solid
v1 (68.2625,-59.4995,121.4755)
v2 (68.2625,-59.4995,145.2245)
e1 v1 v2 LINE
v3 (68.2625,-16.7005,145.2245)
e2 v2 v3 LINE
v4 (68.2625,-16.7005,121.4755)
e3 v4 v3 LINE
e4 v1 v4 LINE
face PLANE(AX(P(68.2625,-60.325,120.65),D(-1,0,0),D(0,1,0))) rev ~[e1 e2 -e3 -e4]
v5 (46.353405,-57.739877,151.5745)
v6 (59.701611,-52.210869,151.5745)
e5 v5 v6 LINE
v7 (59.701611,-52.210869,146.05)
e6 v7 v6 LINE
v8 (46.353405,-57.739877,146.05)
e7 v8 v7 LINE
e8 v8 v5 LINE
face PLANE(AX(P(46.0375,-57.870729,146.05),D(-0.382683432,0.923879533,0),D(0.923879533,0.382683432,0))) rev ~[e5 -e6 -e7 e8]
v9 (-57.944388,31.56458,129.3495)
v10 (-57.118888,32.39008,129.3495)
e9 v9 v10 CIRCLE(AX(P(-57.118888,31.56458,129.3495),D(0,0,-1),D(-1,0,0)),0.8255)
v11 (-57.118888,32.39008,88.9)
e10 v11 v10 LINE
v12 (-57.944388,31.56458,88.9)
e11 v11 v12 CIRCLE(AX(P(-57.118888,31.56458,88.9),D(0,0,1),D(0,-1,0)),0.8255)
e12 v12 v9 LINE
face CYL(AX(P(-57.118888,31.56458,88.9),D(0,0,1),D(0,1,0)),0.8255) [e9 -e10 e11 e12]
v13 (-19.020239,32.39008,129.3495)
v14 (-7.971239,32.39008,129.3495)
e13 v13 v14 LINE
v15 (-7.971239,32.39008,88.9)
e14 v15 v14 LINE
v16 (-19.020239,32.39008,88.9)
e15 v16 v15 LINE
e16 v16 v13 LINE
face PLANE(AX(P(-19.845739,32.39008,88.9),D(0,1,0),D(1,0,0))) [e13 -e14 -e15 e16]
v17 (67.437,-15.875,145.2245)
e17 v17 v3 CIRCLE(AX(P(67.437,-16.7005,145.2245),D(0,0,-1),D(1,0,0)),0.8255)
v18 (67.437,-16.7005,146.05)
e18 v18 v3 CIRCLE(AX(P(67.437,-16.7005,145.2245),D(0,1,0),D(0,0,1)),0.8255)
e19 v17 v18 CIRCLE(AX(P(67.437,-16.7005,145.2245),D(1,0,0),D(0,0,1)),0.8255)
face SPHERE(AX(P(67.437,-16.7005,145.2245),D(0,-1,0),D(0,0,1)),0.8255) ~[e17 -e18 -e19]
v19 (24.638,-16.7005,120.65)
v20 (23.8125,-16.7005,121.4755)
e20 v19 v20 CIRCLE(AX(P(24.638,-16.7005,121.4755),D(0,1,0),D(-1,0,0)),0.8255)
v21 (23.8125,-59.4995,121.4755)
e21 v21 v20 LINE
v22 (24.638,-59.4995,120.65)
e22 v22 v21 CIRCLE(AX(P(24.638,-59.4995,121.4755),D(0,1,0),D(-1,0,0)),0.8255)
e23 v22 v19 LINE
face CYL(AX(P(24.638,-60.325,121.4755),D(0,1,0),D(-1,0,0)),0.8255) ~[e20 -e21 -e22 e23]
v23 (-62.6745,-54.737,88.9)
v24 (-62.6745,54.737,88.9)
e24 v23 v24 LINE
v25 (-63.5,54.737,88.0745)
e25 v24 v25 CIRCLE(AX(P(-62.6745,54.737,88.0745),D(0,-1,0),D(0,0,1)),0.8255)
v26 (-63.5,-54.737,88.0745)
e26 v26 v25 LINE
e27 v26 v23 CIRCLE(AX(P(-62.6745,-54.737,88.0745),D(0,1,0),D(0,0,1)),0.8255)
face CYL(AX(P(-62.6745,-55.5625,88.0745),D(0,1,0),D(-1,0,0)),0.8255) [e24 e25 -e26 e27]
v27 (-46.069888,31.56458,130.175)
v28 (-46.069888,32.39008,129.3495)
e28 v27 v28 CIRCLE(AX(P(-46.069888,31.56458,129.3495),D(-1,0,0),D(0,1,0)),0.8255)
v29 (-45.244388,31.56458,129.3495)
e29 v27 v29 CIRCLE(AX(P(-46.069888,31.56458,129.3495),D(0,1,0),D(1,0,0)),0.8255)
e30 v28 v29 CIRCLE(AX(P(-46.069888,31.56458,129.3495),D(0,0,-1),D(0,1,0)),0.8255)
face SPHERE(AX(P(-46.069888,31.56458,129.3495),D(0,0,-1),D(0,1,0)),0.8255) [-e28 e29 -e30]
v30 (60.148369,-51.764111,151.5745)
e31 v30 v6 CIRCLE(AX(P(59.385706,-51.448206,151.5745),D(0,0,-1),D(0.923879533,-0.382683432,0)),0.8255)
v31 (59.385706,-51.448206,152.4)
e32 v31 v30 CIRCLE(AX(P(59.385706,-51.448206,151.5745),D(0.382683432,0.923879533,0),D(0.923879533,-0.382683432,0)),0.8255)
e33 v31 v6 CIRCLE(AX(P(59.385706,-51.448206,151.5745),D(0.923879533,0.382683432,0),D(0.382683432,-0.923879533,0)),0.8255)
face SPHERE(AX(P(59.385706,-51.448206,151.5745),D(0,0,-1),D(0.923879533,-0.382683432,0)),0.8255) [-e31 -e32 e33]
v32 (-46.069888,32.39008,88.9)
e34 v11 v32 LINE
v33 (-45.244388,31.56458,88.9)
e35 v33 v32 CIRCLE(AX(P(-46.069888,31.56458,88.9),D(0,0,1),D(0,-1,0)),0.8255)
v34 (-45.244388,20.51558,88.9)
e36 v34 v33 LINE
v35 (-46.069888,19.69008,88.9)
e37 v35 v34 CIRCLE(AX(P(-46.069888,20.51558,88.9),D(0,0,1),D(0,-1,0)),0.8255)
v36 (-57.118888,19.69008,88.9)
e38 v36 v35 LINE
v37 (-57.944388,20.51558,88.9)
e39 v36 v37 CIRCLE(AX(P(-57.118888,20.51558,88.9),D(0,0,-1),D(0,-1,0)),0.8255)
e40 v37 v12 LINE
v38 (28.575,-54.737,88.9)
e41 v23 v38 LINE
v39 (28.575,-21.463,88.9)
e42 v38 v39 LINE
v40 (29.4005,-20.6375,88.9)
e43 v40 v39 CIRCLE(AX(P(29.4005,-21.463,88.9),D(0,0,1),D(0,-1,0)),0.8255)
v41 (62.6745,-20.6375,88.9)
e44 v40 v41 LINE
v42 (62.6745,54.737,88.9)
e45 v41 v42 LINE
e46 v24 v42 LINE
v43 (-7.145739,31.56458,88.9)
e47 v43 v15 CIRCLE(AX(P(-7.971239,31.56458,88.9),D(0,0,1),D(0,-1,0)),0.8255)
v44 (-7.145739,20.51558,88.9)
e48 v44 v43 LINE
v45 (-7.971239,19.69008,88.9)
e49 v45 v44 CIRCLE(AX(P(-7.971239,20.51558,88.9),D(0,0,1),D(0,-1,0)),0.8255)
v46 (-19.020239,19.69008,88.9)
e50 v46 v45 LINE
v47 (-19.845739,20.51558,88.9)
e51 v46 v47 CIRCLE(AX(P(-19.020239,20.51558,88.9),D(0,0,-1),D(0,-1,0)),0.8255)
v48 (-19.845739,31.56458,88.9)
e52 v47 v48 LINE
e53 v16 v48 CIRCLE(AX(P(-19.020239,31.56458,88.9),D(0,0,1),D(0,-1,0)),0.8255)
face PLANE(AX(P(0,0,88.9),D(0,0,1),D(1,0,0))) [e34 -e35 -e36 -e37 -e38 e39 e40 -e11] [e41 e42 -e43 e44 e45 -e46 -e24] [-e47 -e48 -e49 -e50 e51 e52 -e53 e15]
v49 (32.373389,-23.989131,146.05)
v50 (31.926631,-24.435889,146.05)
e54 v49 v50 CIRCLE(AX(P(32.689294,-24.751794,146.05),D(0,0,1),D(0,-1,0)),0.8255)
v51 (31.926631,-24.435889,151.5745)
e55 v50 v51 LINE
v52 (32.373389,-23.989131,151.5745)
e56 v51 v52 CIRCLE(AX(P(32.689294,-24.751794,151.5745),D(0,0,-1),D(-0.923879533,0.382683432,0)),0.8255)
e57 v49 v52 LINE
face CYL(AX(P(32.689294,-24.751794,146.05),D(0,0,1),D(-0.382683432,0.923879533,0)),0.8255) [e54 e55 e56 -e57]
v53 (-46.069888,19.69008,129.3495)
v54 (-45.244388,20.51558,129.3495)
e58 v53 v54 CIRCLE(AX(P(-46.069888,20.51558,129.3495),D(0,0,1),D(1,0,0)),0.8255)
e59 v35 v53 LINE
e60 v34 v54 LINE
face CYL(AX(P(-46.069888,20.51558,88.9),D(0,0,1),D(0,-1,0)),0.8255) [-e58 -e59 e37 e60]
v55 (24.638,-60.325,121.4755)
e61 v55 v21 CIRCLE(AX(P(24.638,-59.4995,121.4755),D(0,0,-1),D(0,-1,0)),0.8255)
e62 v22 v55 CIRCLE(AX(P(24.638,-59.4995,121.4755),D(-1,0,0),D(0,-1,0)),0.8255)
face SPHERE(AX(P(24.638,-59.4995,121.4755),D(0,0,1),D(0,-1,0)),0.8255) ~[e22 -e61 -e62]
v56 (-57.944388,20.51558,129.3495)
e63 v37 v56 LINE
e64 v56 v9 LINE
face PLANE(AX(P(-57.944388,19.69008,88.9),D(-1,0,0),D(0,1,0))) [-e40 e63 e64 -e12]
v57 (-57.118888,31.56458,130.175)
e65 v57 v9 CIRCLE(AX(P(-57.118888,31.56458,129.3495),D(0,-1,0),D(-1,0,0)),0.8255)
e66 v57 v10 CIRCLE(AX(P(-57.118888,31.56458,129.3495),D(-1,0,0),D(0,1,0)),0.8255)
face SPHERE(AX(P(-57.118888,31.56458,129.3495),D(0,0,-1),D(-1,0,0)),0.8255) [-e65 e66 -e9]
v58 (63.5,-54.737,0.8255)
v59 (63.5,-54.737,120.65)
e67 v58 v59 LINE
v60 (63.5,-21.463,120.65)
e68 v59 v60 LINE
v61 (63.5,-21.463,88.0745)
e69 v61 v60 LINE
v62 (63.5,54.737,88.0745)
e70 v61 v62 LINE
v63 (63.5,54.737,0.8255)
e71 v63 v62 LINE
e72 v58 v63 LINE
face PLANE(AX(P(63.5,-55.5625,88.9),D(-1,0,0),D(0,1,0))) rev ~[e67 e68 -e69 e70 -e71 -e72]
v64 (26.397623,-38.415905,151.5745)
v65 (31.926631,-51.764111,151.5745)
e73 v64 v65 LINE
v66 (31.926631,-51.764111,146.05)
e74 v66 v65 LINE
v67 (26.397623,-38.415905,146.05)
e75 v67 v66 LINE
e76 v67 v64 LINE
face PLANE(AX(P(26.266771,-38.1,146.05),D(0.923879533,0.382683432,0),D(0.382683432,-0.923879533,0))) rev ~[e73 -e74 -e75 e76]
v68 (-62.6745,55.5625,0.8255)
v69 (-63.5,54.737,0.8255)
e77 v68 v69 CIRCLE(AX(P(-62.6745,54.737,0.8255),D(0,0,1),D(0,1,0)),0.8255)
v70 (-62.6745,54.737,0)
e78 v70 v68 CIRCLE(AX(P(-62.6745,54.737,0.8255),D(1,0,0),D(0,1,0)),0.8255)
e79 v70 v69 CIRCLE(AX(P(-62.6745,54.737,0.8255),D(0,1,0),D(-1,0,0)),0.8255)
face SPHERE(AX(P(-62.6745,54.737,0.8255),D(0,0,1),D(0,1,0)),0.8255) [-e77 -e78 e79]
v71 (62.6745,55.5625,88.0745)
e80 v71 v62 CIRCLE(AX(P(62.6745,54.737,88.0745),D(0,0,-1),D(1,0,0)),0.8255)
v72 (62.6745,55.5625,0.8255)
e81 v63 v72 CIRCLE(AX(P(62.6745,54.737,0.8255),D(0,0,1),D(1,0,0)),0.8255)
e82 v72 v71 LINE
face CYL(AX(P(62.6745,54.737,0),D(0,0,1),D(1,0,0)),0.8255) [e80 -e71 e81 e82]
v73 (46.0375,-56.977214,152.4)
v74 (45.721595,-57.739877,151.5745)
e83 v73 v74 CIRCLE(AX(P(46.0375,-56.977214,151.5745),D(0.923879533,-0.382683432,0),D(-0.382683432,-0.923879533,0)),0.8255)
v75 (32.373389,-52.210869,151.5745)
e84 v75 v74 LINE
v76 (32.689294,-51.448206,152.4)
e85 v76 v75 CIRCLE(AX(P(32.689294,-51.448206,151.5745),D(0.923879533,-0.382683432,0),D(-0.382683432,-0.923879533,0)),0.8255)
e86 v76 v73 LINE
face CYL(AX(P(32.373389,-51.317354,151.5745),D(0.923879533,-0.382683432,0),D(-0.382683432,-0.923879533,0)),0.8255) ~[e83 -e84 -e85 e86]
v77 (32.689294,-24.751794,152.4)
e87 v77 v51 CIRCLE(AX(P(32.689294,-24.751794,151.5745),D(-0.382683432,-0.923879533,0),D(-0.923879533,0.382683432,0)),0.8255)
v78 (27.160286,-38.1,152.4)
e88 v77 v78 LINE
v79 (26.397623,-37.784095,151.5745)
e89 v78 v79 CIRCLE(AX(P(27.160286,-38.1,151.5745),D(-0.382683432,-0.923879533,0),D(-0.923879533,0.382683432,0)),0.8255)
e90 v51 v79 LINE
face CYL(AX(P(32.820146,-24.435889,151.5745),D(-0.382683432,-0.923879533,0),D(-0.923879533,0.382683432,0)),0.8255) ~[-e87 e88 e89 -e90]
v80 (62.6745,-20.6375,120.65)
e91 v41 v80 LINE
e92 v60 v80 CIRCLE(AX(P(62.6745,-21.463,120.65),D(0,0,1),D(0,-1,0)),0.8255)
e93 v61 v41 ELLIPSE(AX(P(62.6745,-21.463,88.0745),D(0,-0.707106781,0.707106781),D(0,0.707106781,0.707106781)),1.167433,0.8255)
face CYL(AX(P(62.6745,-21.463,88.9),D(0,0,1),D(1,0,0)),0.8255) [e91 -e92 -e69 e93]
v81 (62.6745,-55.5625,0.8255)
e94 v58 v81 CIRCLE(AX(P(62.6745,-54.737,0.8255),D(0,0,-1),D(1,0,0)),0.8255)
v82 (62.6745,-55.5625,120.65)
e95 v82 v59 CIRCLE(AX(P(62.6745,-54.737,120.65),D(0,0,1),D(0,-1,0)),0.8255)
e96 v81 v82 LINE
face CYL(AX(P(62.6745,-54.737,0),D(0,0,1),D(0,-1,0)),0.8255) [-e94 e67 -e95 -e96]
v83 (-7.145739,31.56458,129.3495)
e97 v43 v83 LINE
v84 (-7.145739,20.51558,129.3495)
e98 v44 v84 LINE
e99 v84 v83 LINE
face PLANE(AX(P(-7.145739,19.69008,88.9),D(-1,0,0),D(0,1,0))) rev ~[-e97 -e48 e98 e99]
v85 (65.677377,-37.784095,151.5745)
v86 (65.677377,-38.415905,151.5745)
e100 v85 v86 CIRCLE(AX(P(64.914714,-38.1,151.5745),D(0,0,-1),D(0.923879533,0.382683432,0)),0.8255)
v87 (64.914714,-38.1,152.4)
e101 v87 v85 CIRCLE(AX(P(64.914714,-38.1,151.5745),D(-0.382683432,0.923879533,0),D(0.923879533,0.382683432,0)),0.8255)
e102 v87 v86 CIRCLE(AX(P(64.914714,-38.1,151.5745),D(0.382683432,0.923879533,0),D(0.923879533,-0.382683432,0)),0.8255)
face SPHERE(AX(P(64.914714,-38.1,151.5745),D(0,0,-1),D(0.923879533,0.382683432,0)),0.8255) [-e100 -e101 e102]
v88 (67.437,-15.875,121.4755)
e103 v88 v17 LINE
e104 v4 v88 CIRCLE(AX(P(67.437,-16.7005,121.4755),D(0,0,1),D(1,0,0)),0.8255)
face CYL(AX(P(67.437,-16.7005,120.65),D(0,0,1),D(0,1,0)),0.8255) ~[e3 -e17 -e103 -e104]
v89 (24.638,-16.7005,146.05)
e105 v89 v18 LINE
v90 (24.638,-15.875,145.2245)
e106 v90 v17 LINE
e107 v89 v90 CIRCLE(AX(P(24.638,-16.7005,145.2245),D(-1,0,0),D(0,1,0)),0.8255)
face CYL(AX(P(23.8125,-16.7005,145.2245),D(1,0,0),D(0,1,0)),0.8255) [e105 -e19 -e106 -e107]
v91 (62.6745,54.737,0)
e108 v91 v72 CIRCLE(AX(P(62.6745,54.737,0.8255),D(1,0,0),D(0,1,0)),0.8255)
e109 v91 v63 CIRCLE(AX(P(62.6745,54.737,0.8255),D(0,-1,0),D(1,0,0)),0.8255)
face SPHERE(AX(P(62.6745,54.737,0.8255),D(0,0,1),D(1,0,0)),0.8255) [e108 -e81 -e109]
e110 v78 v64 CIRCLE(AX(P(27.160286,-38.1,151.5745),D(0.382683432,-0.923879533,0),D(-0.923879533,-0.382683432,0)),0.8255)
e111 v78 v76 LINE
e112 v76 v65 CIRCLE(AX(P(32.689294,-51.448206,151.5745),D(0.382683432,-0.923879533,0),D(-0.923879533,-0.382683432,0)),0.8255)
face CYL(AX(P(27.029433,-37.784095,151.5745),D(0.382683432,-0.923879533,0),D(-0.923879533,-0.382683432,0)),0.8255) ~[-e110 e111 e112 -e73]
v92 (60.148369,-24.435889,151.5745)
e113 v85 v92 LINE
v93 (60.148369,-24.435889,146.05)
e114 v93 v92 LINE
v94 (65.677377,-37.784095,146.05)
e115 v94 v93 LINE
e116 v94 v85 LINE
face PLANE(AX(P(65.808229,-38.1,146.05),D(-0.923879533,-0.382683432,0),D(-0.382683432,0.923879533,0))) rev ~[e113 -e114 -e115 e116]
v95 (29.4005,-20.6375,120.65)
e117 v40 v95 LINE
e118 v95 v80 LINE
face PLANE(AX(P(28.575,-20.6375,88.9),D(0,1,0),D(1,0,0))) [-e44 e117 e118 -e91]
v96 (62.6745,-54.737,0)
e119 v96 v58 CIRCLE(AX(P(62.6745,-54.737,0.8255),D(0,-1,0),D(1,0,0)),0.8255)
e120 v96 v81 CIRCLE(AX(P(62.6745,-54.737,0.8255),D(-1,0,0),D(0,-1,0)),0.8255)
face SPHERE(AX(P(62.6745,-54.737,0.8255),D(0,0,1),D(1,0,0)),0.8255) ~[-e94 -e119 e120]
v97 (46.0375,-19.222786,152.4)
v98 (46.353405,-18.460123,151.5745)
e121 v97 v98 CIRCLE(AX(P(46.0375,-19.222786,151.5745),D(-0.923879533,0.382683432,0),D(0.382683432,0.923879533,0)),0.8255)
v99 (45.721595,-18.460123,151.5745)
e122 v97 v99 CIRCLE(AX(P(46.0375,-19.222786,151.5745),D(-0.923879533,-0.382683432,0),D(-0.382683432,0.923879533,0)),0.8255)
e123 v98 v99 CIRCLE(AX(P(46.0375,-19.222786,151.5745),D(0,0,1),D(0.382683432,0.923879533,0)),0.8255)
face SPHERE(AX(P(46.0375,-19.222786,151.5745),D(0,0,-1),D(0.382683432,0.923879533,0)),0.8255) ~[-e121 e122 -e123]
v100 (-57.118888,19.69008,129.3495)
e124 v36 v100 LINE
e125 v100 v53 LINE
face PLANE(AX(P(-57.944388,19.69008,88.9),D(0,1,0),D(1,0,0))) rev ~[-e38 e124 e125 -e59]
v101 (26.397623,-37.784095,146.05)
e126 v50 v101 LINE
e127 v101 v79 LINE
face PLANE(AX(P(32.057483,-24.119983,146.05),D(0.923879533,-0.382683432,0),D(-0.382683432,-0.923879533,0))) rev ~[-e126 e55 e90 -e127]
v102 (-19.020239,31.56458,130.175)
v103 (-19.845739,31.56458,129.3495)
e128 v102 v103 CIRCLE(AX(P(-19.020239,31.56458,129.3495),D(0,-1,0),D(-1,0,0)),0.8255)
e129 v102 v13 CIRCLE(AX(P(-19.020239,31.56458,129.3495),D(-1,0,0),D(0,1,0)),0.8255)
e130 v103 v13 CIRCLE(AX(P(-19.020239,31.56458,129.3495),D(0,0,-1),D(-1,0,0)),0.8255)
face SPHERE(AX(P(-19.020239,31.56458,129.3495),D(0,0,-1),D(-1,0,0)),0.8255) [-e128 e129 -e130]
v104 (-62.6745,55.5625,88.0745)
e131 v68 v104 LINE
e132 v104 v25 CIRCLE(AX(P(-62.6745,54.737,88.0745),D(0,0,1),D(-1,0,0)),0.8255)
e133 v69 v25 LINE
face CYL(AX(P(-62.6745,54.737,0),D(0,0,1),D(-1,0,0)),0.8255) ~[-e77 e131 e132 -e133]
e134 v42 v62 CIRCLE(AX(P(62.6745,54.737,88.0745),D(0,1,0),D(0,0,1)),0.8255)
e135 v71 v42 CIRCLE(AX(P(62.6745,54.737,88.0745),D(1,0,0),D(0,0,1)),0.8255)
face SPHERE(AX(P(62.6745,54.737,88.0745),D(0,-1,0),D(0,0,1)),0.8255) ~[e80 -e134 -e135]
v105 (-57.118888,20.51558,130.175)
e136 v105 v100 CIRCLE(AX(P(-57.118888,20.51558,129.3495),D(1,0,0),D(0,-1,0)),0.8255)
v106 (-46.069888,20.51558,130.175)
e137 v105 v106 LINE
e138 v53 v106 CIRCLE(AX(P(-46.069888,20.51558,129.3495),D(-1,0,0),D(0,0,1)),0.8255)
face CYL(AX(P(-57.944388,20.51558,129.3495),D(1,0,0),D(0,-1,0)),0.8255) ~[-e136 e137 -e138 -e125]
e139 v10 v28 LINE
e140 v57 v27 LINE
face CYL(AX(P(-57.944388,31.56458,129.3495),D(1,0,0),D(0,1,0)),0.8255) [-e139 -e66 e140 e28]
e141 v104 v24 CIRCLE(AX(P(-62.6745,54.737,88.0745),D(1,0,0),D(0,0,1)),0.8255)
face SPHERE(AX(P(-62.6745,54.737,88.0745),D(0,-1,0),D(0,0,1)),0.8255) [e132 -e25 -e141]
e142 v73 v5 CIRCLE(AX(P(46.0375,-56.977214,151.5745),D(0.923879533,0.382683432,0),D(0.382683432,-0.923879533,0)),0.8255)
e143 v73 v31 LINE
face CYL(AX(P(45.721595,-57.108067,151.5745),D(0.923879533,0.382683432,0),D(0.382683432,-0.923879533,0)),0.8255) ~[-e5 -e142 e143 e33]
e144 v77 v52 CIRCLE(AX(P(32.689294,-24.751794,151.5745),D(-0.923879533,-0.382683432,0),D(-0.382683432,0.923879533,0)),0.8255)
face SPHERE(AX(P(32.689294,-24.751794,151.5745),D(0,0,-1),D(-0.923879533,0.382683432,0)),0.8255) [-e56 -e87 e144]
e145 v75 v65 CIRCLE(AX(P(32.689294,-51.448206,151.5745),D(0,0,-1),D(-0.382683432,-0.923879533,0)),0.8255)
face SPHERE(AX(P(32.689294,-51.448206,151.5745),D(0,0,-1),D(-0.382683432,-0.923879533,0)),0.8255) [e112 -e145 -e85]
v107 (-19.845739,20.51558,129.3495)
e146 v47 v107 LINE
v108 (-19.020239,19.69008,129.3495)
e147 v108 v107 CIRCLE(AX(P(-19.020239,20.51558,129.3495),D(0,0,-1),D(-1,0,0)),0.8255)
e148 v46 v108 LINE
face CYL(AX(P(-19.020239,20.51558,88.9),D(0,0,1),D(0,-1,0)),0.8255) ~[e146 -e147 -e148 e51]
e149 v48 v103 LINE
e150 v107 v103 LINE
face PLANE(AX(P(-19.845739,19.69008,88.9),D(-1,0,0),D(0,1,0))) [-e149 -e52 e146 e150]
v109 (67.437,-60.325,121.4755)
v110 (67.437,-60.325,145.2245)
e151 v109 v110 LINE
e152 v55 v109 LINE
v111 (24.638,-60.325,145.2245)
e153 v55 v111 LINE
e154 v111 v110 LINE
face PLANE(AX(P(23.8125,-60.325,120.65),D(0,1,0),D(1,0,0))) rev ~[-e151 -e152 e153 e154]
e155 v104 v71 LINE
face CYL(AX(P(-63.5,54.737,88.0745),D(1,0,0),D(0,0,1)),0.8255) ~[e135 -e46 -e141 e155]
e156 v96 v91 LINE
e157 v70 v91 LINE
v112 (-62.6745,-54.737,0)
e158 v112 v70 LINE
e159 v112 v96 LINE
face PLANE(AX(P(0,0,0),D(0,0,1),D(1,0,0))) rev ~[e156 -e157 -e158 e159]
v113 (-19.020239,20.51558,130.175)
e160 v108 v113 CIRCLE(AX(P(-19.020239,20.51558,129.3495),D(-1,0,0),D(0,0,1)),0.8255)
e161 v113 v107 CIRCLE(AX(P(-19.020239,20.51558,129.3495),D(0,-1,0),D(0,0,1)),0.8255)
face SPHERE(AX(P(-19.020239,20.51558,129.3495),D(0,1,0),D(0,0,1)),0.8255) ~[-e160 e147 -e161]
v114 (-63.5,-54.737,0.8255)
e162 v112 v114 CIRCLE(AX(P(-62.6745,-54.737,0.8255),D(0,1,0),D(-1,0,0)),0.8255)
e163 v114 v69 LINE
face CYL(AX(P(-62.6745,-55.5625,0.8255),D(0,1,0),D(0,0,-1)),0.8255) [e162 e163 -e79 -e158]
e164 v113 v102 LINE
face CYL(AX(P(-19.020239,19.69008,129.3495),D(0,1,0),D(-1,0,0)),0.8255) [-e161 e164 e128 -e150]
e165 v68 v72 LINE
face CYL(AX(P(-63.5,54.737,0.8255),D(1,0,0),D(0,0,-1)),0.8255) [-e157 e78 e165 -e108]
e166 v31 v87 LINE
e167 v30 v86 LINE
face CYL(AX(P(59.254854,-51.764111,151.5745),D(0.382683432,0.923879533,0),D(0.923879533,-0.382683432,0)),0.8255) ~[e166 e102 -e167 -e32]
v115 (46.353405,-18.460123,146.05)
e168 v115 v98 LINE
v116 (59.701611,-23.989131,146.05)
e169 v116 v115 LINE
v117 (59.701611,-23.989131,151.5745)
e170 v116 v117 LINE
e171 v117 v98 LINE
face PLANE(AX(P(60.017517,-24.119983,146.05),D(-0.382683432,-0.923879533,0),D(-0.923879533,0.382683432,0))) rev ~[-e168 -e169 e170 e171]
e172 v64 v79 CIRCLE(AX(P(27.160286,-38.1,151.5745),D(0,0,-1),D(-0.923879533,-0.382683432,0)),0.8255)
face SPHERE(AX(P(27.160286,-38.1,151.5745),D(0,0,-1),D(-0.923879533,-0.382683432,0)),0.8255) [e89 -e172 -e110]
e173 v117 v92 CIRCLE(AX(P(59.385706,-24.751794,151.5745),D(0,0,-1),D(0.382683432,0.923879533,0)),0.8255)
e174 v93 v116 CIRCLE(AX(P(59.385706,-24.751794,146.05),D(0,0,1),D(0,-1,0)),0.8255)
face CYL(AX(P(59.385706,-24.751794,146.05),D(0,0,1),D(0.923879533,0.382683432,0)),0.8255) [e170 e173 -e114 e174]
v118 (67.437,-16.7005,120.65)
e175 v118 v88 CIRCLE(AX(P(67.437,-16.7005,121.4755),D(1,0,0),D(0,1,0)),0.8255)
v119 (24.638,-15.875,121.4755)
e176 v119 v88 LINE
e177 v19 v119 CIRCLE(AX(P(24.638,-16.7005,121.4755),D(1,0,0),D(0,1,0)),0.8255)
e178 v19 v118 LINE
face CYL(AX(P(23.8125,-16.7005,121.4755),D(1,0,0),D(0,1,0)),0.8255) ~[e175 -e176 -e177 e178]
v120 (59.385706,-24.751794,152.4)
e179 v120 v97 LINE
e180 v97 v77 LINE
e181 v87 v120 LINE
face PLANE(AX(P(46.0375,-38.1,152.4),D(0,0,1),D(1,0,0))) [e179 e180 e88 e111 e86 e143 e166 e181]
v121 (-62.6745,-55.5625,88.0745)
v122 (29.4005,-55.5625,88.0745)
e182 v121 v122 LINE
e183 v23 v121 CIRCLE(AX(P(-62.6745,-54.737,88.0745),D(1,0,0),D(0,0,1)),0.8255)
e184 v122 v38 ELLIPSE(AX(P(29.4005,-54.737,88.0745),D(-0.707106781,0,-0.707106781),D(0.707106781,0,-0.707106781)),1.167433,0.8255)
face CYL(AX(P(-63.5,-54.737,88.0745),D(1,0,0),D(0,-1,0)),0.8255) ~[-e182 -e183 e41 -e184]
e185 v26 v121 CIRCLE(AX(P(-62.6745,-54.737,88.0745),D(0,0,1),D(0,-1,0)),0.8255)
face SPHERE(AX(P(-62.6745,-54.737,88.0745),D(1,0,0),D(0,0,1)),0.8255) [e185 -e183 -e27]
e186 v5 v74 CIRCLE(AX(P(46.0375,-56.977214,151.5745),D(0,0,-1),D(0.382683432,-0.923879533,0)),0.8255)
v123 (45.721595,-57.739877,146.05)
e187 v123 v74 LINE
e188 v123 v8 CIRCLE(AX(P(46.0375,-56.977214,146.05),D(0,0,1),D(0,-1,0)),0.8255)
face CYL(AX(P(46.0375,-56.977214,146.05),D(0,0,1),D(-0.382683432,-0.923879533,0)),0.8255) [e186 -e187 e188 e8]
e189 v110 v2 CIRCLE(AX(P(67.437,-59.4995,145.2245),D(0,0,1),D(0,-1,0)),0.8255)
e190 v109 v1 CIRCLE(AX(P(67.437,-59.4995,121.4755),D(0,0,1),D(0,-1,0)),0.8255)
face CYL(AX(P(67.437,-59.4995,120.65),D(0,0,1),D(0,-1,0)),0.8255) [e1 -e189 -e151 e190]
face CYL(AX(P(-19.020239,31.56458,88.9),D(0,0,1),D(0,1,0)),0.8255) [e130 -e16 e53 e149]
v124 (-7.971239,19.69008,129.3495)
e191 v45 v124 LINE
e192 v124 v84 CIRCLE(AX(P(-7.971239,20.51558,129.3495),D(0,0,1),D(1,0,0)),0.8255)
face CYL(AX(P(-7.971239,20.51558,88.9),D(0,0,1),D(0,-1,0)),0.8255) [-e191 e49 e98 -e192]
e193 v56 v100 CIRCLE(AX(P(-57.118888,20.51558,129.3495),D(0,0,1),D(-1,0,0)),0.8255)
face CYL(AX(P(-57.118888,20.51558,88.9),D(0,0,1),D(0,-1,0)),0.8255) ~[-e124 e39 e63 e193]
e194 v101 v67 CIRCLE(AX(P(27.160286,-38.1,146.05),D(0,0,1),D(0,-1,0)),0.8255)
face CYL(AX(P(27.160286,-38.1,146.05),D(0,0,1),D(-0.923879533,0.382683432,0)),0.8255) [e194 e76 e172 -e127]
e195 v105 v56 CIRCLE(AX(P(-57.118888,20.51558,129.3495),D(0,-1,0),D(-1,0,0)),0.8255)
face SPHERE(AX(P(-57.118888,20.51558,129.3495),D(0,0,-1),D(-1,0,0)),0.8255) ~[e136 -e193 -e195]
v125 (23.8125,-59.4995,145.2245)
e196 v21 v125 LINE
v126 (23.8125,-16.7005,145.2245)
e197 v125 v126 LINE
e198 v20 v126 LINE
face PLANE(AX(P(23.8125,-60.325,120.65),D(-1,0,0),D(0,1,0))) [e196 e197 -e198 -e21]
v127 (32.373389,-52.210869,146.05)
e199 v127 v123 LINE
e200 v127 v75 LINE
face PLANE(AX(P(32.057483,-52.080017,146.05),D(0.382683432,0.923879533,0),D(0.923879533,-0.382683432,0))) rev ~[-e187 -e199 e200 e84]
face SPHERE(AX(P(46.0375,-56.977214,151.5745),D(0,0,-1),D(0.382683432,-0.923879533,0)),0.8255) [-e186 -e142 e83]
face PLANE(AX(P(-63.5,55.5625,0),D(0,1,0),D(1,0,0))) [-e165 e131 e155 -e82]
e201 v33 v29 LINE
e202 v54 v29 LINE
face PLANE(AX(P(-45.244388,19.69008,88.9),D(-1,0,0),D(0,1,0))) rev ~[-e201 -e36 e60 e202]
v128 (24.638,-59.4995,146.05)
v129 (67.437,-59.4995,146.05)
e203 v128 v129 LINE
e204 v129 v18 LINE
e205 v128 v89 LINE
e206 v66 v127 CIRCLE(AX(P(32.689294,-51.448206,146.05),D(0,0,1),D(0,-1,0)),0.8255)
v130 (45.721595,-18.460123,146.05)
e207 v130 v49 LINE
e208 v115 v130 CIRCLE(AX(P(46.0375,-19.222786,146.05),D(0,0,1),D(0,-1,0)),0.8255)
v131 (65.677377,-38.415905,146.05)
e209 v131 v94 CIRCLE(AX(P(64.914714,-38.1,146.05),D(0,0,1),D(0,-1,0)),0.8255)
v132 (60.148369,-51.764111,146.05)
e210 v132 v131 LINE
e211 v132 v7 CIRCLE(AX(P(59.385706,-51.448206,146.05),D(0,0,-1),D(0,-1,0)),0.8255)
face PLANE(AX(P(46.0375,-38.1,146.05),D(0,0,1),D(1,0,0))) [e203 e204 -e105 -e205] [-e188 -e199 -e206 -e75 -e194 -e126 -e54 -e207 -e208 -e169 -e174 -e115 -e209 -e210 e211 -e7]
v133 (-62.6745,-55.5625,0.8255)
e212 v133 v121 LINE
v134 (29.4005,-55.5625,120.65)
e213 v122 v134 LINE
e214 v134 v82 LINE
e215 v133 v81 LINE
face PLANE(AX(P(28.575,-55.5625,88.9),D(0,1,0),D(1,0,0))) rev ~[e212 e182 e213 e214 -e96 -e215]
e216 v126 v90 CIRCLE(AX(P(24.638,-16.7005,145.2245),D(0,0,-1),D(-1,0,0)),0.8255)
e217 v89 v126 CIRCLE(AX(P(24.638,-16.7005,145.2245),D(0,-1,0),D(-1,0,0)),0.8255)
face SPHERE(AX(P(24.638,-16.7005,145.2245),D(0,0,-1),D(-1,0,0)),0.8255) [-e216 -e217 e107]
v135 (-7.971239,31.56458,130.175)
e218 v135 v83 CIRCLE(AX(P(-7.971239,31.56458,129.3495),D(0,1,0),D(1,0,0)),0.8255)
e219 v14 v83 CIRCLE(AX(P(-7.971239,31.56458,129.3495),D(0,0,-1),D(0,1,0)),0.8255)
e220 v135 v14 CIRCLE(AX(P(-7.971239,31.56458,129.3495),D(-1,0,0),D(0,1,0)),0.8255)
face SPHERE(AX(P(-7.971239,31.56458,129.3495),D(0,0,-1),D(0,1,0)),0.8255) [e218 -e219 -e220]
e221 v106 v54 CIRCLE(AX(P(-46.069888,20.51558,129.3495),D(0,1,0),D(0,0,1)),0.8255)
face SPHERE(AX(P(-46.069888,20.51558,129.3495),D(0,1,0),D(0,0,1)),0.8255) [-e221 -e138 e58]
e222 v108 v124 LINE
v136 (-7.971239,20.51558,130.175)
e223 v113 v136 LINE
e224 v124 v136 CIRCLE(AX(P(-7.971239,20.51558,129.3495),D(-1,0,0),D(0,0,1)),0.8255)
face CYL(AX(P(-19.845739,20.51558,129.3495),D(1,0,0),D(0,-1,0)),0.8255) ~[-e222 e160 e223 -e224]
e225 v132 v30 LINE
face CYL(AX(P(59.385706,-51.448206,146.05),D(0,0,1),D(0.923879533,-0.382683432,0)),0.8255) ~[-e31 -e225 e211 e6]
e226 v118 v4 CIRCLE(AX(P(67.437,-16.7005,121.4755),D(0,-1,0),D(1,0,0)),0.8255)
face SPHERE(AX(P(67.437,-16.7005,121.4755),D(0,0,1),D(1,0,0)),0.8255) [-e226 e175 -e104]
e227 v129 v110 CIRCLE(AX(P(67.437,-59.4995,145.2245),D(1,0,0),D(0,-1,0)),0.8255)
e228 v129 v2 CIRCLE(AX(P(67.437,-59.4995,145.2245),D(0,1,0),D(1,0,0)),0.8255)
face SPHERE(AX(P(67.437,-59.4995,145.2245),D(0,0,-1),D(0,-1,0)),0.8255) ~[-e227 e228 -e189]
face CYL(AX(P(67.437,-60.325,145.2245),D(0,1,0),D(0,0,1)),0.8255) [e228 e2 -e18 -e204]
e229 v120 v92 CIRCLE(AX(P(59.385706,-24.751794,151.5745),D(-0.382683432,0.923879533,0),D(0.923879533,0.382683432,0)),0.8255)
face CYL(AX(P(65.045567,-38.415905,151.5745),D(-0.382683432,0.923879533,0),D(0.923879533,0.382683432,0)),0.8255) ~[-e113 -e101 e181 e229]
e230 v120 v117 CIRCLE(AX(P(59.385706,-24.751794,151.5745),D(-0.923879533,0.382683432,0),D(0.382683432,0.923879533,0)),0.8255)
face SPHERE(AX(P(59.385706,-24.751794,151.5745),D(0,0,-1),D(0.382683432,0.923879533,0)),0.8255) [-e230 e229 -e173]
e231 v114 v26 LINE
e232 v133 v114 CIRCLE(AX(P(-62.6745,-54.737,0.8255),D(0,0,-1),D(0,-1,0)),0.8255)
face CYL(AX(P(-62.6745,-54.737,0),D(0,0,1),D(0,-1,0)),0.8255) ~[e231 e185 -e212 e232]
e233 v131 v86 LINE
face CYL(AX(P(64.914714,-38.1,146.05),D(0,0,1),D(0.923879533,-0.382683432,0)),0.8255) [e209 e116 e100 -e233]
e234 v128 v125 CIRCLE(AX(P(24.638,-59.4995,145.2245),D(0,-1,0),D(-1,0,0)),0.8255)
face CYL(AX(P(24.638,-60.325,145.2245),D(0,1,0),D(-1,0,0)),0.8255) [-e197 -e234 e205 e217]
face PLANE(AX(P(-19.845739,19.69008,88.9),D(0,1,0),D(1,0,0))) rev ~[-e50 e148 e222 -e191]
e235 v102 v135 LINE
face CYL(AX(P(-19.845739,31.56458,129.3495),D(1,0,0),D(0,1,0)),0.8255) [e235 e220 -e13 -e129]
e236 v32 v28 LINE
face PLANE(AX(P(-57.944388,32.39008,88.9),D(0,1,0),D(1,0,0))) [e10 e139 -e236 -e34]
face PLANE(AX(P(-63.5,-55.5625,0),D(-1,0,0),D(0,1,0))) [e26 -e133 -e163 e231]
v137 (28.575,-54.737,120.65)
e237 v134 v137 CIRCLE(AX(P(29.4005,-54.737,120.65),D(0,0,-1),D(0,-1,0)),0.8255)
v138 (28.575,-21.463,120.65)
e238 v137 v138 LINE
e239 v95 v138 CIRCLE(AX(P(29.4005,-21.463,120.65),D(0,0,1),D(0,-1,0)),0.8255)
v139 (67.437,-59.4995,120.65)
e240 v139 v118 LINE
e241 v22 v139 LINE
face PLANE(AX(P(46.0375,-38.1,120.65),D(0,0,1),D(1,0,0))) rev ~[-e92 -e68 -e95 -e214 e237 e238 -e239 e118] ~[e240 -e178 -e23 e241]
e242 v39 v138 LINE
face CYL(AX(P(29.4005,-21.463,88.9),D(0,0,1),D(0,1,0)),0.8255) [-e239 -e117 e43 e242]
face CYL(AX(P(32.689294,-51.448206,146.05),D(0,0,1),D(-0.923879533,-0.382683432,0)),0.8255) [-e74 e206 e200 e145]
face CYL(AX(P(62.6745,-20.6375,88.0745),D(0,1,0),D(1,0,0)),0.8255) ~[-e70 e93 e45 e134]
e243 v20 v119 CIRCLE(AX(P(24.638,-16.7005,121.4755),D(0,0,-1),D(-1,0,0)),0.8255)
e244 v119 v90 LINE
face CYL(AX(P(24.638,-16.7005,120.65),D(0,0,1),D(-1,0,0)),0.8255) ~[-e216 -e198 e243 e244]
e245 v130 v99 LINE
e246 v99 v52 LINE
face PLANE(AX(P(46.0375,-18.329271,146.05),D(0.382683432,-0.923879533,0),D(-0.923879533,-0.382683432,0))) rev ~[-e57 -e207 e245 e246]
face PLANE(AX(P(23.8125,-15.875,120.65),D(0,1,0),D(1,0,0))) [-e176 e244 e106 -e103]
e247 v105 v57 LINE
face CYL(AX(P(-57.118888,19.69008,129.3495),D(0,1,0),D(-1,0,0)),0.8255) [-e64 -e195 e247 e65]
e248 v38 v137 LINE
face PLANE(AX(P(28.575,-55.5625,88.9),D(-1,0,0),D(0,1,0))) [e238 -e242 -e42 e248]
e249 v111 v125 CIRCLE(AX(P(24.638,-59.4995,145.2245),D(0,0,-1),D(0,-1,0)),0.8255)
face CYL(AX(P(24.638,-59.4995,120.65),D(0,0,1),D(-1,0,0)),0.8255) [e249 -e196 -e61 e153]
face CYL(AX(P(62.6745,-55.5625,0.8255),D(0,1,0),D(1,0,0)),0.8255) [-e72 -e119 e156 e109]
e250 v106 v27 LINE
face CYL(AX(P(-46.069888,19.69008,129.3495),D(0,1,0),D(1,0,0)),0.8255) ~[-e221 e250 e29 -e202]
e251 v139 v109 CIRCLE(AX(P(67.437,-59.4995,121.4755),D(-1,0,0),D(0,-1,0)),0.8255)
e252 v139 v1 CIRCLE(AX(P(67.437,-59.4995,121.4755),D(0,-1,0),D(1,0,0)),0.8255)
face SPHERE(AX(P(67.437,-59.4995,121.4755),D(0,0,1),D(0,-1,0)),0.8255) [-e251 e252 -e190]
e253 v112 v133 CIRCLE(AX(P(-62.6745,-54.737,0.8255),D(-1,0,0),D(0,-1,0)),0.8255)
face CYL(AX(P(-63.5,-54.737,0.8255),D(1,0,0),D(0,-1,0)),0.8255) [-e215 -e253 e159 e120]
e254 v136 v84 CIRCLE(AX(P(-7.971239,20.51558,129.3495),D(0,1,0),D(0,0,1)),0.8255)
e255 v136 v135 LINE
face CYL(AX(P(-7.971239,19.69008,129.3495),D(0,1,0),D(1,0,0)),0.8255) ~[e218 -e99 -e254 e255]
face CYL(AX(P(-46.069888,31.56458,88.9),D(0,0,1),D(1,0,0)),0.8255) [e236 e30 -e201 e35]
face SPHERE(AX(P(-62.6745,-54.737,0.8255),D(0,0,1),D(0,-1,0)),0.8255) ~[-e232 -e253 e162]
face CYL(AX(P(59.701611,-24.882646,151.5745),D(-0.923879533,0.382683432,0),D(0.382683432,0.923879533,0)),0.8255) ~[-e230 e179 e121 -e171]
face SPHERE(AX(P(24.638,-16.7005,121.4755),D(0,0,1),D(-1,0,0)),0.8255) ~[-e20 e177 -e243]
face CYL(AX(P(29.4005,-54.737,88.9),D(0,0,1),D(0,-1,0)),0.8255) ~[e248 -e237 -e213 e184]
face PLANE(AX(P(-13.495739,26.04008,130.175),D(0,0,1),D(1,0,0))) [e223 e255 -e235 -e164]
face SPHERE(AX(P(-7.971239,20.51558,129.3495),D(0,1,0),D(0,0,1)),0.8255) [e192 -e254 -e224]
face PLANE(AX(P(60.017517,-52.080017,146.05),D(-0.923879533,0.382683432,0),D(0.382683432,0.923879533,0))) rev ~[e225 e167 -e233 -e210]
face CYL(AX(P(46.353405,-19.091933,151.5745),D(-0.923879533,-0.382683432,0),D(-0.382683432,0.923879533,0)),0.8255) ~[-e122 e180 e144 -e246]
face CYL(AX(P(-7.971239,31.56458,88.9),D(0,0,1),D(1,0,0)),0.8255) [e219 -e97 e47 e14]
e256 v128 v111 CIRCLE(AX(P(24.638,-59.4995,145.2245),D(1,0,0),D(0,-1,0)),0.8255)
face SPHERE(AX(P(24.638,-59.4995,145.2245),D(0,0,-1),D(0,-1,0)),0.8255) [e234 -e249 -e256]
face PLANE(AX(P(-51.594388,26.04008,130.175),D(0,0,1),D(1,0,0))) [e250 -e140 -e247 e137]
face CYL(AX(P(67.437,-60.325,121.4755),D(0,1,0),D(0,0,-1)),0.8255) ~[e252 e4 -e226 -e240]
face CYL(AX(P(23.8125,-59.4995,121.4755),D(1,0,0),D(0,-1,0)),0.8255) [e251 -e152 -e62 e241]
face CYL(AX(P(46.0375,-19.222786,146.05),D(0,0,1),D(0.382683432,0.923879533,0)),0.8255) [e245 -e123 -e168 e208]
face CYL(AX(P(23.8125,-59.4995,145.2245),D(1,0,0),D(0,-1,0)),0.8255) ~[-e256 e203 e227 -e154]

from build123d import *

# Parameters (mm, degrees)
F0_W     = 127
F0_H     = 111.125
F1_DEPTH = 88.9
F2_W     = 34.925
F2_H     = 34.925
F3_DEPTH = 31.75
F4_W     = 44.45
F4_H     = 44.45
F5_DEPTH = 25.4
F7_DEPTH = 6.35
F8_W     = 12.7
F8_H     = 12.7
F9_DEPTH = 41.275
F10_R    = 0.8255


with BuildPart() as f1:
    # F0 (on Top) → F1 (new body)
    with BuildSketch(Plane.XY):
        Rectangle(F0_W, F0_H)
    extrude(amount=F1_DEPTH)

    # F2 (on face) → F3 (join)
    with BuildSketch(Plane.XY.offset(88.9)):
        with Locations((46.0375, -38.1)):
            Rectangle(F2_W, F2_H)
    extrude(amount=F3_DEPTH)

    # F4 (on face) → F5 (join)
    with BuildSketch(Plane.XY.offset(120.65)):
        with Locations((46.0375, -38.1)):
            Rectangle(F4_W, F4_H)
    extrude(amount=F5_DEPTH)

    # F6 (on face) → F7 (join)
    with BuildSketch(Plane.XY.offset(146.05)):
        Polygon((60.0175166498, -52.0800166498), (65.8082291484, -38.1), (60.0175166498, -24.1199833502), (46.0375, -18.3292708516), (32.0574833502, -24.1199833502), (26.2667708516, -38.1), (32.0574833502, -52.0800166498), (46.0375, -57.8707291484), align=None)
    extrude(amount=F7_DEPTH)

    # F8 (on face) → F9 (join)
    with BuildSketch(Plane.XY.offset(88.9)):
        with Locations((-51.5943879418, 26.04008)):
            Rectangle(F8_W, F8_H)
        with Locations((-13.4957394752, 26.04008)):
            Rectangle(F8_W, F8_H)
    extrude(amount=F9_DEPTH)

    # F10
    f10_edges = [f1.edges().sort_by_distance(p)[0] for p in [
        (-17.4625, -55.5625, 88.9),
        (-63.5, 0, 88.9),
        (-63.5, -55.5625, 44.45),
        (28.575, -55.5625, 104.775),
        (63.5, -55.5625, 60.325),
        (28.575, -20.6375, 104.775),
        (23.8125, -15.875, 133.35),
        (23.8125, -60.325, 133.35),
        (68.2625, -60.325, 133.35),
        (46.0375, -60.325, 120.65),
        (23.8125, -38.1, 120.65),
        (46.0375, -60.325, 146.05),
        (23.8125, -38.1, 146.05),
        (68.2625, -38.1, 146.05),
        (46.0375, -15.875, 146.05),
        (53.027508, -21.224627, 152.4),
        (62.912873, -31.109992, 152.4),
        (62.912873, -45.090008, 152.4),
        (53.027508, -54.975373, 152.4),
        (39.047492, -54.975373, 152.4),
        (29.162127, -45.090008, 152.4),
        (29.162127, -31.109992, 152.4),
        (39.047492, -21.224627, 152.4),
        (32.057483, -52.080017, 149.225),
        (46.0375, -57.870729, 149.225),
        (26.266771, -38.1, 149.225),
        (60.017517, -52.080017, 149.225),
        (65.808229, -38.1, 149.225),
        (60.017517, -24.119983, 149.225),
        (46.0375, -18.329271, 149.225),
        (32.057483, -24.119983, 149.225),
        (68.2625, -15.875, 133.35),
        (63.5, -20.6375, 104.775),
        (68.2625, -38.1, 120.65),
        (46.0375, -15.875, 120.65),
        (63.5, 17.4625, 88.9),
        (0, 55.5625, 88.9),
        (63.5, 55.5625, 44.45),
        (-57.944388, 32.39008, 109.5375),
        (-45.244388, 32.39008, 109.5375),
        (-57.944388, 19.69008, 109.5375),
        (-57.944388, 26.04008, 130.175),
        (-51.594388, 32.39008, 130.175),
        (-45.244388, 26.04008, 130.175),
        (-51.594388, 19.69008, 130.175),
        (-19.845739, 32.39008, 109.5375),
        (-7.145739, 32.39008, 109.5375),
        (-19.845739, 26.04008, 130.175),
        (-13.495739, 32.39008, 130.175),
        (-7.145739, 26.04008, 130.175),
        (-13.495739, 19.69008, 130.175),
        (-19.845739, 19.69008, 109.5375),
        (-7.145739, 19.69008, 109.5375),
        (-45.244388, 19.69008, 109.5375),
        (-63.5, 55.5625, 44.45),
        (63.5, 0, 0),
        (0, 55.5625, 0),
        (0, -55.5625, 0),
        (-63.5, 0, 0),
    ]]
    fillet(f10_edges, radius=F10_R)


solid = f1.part
